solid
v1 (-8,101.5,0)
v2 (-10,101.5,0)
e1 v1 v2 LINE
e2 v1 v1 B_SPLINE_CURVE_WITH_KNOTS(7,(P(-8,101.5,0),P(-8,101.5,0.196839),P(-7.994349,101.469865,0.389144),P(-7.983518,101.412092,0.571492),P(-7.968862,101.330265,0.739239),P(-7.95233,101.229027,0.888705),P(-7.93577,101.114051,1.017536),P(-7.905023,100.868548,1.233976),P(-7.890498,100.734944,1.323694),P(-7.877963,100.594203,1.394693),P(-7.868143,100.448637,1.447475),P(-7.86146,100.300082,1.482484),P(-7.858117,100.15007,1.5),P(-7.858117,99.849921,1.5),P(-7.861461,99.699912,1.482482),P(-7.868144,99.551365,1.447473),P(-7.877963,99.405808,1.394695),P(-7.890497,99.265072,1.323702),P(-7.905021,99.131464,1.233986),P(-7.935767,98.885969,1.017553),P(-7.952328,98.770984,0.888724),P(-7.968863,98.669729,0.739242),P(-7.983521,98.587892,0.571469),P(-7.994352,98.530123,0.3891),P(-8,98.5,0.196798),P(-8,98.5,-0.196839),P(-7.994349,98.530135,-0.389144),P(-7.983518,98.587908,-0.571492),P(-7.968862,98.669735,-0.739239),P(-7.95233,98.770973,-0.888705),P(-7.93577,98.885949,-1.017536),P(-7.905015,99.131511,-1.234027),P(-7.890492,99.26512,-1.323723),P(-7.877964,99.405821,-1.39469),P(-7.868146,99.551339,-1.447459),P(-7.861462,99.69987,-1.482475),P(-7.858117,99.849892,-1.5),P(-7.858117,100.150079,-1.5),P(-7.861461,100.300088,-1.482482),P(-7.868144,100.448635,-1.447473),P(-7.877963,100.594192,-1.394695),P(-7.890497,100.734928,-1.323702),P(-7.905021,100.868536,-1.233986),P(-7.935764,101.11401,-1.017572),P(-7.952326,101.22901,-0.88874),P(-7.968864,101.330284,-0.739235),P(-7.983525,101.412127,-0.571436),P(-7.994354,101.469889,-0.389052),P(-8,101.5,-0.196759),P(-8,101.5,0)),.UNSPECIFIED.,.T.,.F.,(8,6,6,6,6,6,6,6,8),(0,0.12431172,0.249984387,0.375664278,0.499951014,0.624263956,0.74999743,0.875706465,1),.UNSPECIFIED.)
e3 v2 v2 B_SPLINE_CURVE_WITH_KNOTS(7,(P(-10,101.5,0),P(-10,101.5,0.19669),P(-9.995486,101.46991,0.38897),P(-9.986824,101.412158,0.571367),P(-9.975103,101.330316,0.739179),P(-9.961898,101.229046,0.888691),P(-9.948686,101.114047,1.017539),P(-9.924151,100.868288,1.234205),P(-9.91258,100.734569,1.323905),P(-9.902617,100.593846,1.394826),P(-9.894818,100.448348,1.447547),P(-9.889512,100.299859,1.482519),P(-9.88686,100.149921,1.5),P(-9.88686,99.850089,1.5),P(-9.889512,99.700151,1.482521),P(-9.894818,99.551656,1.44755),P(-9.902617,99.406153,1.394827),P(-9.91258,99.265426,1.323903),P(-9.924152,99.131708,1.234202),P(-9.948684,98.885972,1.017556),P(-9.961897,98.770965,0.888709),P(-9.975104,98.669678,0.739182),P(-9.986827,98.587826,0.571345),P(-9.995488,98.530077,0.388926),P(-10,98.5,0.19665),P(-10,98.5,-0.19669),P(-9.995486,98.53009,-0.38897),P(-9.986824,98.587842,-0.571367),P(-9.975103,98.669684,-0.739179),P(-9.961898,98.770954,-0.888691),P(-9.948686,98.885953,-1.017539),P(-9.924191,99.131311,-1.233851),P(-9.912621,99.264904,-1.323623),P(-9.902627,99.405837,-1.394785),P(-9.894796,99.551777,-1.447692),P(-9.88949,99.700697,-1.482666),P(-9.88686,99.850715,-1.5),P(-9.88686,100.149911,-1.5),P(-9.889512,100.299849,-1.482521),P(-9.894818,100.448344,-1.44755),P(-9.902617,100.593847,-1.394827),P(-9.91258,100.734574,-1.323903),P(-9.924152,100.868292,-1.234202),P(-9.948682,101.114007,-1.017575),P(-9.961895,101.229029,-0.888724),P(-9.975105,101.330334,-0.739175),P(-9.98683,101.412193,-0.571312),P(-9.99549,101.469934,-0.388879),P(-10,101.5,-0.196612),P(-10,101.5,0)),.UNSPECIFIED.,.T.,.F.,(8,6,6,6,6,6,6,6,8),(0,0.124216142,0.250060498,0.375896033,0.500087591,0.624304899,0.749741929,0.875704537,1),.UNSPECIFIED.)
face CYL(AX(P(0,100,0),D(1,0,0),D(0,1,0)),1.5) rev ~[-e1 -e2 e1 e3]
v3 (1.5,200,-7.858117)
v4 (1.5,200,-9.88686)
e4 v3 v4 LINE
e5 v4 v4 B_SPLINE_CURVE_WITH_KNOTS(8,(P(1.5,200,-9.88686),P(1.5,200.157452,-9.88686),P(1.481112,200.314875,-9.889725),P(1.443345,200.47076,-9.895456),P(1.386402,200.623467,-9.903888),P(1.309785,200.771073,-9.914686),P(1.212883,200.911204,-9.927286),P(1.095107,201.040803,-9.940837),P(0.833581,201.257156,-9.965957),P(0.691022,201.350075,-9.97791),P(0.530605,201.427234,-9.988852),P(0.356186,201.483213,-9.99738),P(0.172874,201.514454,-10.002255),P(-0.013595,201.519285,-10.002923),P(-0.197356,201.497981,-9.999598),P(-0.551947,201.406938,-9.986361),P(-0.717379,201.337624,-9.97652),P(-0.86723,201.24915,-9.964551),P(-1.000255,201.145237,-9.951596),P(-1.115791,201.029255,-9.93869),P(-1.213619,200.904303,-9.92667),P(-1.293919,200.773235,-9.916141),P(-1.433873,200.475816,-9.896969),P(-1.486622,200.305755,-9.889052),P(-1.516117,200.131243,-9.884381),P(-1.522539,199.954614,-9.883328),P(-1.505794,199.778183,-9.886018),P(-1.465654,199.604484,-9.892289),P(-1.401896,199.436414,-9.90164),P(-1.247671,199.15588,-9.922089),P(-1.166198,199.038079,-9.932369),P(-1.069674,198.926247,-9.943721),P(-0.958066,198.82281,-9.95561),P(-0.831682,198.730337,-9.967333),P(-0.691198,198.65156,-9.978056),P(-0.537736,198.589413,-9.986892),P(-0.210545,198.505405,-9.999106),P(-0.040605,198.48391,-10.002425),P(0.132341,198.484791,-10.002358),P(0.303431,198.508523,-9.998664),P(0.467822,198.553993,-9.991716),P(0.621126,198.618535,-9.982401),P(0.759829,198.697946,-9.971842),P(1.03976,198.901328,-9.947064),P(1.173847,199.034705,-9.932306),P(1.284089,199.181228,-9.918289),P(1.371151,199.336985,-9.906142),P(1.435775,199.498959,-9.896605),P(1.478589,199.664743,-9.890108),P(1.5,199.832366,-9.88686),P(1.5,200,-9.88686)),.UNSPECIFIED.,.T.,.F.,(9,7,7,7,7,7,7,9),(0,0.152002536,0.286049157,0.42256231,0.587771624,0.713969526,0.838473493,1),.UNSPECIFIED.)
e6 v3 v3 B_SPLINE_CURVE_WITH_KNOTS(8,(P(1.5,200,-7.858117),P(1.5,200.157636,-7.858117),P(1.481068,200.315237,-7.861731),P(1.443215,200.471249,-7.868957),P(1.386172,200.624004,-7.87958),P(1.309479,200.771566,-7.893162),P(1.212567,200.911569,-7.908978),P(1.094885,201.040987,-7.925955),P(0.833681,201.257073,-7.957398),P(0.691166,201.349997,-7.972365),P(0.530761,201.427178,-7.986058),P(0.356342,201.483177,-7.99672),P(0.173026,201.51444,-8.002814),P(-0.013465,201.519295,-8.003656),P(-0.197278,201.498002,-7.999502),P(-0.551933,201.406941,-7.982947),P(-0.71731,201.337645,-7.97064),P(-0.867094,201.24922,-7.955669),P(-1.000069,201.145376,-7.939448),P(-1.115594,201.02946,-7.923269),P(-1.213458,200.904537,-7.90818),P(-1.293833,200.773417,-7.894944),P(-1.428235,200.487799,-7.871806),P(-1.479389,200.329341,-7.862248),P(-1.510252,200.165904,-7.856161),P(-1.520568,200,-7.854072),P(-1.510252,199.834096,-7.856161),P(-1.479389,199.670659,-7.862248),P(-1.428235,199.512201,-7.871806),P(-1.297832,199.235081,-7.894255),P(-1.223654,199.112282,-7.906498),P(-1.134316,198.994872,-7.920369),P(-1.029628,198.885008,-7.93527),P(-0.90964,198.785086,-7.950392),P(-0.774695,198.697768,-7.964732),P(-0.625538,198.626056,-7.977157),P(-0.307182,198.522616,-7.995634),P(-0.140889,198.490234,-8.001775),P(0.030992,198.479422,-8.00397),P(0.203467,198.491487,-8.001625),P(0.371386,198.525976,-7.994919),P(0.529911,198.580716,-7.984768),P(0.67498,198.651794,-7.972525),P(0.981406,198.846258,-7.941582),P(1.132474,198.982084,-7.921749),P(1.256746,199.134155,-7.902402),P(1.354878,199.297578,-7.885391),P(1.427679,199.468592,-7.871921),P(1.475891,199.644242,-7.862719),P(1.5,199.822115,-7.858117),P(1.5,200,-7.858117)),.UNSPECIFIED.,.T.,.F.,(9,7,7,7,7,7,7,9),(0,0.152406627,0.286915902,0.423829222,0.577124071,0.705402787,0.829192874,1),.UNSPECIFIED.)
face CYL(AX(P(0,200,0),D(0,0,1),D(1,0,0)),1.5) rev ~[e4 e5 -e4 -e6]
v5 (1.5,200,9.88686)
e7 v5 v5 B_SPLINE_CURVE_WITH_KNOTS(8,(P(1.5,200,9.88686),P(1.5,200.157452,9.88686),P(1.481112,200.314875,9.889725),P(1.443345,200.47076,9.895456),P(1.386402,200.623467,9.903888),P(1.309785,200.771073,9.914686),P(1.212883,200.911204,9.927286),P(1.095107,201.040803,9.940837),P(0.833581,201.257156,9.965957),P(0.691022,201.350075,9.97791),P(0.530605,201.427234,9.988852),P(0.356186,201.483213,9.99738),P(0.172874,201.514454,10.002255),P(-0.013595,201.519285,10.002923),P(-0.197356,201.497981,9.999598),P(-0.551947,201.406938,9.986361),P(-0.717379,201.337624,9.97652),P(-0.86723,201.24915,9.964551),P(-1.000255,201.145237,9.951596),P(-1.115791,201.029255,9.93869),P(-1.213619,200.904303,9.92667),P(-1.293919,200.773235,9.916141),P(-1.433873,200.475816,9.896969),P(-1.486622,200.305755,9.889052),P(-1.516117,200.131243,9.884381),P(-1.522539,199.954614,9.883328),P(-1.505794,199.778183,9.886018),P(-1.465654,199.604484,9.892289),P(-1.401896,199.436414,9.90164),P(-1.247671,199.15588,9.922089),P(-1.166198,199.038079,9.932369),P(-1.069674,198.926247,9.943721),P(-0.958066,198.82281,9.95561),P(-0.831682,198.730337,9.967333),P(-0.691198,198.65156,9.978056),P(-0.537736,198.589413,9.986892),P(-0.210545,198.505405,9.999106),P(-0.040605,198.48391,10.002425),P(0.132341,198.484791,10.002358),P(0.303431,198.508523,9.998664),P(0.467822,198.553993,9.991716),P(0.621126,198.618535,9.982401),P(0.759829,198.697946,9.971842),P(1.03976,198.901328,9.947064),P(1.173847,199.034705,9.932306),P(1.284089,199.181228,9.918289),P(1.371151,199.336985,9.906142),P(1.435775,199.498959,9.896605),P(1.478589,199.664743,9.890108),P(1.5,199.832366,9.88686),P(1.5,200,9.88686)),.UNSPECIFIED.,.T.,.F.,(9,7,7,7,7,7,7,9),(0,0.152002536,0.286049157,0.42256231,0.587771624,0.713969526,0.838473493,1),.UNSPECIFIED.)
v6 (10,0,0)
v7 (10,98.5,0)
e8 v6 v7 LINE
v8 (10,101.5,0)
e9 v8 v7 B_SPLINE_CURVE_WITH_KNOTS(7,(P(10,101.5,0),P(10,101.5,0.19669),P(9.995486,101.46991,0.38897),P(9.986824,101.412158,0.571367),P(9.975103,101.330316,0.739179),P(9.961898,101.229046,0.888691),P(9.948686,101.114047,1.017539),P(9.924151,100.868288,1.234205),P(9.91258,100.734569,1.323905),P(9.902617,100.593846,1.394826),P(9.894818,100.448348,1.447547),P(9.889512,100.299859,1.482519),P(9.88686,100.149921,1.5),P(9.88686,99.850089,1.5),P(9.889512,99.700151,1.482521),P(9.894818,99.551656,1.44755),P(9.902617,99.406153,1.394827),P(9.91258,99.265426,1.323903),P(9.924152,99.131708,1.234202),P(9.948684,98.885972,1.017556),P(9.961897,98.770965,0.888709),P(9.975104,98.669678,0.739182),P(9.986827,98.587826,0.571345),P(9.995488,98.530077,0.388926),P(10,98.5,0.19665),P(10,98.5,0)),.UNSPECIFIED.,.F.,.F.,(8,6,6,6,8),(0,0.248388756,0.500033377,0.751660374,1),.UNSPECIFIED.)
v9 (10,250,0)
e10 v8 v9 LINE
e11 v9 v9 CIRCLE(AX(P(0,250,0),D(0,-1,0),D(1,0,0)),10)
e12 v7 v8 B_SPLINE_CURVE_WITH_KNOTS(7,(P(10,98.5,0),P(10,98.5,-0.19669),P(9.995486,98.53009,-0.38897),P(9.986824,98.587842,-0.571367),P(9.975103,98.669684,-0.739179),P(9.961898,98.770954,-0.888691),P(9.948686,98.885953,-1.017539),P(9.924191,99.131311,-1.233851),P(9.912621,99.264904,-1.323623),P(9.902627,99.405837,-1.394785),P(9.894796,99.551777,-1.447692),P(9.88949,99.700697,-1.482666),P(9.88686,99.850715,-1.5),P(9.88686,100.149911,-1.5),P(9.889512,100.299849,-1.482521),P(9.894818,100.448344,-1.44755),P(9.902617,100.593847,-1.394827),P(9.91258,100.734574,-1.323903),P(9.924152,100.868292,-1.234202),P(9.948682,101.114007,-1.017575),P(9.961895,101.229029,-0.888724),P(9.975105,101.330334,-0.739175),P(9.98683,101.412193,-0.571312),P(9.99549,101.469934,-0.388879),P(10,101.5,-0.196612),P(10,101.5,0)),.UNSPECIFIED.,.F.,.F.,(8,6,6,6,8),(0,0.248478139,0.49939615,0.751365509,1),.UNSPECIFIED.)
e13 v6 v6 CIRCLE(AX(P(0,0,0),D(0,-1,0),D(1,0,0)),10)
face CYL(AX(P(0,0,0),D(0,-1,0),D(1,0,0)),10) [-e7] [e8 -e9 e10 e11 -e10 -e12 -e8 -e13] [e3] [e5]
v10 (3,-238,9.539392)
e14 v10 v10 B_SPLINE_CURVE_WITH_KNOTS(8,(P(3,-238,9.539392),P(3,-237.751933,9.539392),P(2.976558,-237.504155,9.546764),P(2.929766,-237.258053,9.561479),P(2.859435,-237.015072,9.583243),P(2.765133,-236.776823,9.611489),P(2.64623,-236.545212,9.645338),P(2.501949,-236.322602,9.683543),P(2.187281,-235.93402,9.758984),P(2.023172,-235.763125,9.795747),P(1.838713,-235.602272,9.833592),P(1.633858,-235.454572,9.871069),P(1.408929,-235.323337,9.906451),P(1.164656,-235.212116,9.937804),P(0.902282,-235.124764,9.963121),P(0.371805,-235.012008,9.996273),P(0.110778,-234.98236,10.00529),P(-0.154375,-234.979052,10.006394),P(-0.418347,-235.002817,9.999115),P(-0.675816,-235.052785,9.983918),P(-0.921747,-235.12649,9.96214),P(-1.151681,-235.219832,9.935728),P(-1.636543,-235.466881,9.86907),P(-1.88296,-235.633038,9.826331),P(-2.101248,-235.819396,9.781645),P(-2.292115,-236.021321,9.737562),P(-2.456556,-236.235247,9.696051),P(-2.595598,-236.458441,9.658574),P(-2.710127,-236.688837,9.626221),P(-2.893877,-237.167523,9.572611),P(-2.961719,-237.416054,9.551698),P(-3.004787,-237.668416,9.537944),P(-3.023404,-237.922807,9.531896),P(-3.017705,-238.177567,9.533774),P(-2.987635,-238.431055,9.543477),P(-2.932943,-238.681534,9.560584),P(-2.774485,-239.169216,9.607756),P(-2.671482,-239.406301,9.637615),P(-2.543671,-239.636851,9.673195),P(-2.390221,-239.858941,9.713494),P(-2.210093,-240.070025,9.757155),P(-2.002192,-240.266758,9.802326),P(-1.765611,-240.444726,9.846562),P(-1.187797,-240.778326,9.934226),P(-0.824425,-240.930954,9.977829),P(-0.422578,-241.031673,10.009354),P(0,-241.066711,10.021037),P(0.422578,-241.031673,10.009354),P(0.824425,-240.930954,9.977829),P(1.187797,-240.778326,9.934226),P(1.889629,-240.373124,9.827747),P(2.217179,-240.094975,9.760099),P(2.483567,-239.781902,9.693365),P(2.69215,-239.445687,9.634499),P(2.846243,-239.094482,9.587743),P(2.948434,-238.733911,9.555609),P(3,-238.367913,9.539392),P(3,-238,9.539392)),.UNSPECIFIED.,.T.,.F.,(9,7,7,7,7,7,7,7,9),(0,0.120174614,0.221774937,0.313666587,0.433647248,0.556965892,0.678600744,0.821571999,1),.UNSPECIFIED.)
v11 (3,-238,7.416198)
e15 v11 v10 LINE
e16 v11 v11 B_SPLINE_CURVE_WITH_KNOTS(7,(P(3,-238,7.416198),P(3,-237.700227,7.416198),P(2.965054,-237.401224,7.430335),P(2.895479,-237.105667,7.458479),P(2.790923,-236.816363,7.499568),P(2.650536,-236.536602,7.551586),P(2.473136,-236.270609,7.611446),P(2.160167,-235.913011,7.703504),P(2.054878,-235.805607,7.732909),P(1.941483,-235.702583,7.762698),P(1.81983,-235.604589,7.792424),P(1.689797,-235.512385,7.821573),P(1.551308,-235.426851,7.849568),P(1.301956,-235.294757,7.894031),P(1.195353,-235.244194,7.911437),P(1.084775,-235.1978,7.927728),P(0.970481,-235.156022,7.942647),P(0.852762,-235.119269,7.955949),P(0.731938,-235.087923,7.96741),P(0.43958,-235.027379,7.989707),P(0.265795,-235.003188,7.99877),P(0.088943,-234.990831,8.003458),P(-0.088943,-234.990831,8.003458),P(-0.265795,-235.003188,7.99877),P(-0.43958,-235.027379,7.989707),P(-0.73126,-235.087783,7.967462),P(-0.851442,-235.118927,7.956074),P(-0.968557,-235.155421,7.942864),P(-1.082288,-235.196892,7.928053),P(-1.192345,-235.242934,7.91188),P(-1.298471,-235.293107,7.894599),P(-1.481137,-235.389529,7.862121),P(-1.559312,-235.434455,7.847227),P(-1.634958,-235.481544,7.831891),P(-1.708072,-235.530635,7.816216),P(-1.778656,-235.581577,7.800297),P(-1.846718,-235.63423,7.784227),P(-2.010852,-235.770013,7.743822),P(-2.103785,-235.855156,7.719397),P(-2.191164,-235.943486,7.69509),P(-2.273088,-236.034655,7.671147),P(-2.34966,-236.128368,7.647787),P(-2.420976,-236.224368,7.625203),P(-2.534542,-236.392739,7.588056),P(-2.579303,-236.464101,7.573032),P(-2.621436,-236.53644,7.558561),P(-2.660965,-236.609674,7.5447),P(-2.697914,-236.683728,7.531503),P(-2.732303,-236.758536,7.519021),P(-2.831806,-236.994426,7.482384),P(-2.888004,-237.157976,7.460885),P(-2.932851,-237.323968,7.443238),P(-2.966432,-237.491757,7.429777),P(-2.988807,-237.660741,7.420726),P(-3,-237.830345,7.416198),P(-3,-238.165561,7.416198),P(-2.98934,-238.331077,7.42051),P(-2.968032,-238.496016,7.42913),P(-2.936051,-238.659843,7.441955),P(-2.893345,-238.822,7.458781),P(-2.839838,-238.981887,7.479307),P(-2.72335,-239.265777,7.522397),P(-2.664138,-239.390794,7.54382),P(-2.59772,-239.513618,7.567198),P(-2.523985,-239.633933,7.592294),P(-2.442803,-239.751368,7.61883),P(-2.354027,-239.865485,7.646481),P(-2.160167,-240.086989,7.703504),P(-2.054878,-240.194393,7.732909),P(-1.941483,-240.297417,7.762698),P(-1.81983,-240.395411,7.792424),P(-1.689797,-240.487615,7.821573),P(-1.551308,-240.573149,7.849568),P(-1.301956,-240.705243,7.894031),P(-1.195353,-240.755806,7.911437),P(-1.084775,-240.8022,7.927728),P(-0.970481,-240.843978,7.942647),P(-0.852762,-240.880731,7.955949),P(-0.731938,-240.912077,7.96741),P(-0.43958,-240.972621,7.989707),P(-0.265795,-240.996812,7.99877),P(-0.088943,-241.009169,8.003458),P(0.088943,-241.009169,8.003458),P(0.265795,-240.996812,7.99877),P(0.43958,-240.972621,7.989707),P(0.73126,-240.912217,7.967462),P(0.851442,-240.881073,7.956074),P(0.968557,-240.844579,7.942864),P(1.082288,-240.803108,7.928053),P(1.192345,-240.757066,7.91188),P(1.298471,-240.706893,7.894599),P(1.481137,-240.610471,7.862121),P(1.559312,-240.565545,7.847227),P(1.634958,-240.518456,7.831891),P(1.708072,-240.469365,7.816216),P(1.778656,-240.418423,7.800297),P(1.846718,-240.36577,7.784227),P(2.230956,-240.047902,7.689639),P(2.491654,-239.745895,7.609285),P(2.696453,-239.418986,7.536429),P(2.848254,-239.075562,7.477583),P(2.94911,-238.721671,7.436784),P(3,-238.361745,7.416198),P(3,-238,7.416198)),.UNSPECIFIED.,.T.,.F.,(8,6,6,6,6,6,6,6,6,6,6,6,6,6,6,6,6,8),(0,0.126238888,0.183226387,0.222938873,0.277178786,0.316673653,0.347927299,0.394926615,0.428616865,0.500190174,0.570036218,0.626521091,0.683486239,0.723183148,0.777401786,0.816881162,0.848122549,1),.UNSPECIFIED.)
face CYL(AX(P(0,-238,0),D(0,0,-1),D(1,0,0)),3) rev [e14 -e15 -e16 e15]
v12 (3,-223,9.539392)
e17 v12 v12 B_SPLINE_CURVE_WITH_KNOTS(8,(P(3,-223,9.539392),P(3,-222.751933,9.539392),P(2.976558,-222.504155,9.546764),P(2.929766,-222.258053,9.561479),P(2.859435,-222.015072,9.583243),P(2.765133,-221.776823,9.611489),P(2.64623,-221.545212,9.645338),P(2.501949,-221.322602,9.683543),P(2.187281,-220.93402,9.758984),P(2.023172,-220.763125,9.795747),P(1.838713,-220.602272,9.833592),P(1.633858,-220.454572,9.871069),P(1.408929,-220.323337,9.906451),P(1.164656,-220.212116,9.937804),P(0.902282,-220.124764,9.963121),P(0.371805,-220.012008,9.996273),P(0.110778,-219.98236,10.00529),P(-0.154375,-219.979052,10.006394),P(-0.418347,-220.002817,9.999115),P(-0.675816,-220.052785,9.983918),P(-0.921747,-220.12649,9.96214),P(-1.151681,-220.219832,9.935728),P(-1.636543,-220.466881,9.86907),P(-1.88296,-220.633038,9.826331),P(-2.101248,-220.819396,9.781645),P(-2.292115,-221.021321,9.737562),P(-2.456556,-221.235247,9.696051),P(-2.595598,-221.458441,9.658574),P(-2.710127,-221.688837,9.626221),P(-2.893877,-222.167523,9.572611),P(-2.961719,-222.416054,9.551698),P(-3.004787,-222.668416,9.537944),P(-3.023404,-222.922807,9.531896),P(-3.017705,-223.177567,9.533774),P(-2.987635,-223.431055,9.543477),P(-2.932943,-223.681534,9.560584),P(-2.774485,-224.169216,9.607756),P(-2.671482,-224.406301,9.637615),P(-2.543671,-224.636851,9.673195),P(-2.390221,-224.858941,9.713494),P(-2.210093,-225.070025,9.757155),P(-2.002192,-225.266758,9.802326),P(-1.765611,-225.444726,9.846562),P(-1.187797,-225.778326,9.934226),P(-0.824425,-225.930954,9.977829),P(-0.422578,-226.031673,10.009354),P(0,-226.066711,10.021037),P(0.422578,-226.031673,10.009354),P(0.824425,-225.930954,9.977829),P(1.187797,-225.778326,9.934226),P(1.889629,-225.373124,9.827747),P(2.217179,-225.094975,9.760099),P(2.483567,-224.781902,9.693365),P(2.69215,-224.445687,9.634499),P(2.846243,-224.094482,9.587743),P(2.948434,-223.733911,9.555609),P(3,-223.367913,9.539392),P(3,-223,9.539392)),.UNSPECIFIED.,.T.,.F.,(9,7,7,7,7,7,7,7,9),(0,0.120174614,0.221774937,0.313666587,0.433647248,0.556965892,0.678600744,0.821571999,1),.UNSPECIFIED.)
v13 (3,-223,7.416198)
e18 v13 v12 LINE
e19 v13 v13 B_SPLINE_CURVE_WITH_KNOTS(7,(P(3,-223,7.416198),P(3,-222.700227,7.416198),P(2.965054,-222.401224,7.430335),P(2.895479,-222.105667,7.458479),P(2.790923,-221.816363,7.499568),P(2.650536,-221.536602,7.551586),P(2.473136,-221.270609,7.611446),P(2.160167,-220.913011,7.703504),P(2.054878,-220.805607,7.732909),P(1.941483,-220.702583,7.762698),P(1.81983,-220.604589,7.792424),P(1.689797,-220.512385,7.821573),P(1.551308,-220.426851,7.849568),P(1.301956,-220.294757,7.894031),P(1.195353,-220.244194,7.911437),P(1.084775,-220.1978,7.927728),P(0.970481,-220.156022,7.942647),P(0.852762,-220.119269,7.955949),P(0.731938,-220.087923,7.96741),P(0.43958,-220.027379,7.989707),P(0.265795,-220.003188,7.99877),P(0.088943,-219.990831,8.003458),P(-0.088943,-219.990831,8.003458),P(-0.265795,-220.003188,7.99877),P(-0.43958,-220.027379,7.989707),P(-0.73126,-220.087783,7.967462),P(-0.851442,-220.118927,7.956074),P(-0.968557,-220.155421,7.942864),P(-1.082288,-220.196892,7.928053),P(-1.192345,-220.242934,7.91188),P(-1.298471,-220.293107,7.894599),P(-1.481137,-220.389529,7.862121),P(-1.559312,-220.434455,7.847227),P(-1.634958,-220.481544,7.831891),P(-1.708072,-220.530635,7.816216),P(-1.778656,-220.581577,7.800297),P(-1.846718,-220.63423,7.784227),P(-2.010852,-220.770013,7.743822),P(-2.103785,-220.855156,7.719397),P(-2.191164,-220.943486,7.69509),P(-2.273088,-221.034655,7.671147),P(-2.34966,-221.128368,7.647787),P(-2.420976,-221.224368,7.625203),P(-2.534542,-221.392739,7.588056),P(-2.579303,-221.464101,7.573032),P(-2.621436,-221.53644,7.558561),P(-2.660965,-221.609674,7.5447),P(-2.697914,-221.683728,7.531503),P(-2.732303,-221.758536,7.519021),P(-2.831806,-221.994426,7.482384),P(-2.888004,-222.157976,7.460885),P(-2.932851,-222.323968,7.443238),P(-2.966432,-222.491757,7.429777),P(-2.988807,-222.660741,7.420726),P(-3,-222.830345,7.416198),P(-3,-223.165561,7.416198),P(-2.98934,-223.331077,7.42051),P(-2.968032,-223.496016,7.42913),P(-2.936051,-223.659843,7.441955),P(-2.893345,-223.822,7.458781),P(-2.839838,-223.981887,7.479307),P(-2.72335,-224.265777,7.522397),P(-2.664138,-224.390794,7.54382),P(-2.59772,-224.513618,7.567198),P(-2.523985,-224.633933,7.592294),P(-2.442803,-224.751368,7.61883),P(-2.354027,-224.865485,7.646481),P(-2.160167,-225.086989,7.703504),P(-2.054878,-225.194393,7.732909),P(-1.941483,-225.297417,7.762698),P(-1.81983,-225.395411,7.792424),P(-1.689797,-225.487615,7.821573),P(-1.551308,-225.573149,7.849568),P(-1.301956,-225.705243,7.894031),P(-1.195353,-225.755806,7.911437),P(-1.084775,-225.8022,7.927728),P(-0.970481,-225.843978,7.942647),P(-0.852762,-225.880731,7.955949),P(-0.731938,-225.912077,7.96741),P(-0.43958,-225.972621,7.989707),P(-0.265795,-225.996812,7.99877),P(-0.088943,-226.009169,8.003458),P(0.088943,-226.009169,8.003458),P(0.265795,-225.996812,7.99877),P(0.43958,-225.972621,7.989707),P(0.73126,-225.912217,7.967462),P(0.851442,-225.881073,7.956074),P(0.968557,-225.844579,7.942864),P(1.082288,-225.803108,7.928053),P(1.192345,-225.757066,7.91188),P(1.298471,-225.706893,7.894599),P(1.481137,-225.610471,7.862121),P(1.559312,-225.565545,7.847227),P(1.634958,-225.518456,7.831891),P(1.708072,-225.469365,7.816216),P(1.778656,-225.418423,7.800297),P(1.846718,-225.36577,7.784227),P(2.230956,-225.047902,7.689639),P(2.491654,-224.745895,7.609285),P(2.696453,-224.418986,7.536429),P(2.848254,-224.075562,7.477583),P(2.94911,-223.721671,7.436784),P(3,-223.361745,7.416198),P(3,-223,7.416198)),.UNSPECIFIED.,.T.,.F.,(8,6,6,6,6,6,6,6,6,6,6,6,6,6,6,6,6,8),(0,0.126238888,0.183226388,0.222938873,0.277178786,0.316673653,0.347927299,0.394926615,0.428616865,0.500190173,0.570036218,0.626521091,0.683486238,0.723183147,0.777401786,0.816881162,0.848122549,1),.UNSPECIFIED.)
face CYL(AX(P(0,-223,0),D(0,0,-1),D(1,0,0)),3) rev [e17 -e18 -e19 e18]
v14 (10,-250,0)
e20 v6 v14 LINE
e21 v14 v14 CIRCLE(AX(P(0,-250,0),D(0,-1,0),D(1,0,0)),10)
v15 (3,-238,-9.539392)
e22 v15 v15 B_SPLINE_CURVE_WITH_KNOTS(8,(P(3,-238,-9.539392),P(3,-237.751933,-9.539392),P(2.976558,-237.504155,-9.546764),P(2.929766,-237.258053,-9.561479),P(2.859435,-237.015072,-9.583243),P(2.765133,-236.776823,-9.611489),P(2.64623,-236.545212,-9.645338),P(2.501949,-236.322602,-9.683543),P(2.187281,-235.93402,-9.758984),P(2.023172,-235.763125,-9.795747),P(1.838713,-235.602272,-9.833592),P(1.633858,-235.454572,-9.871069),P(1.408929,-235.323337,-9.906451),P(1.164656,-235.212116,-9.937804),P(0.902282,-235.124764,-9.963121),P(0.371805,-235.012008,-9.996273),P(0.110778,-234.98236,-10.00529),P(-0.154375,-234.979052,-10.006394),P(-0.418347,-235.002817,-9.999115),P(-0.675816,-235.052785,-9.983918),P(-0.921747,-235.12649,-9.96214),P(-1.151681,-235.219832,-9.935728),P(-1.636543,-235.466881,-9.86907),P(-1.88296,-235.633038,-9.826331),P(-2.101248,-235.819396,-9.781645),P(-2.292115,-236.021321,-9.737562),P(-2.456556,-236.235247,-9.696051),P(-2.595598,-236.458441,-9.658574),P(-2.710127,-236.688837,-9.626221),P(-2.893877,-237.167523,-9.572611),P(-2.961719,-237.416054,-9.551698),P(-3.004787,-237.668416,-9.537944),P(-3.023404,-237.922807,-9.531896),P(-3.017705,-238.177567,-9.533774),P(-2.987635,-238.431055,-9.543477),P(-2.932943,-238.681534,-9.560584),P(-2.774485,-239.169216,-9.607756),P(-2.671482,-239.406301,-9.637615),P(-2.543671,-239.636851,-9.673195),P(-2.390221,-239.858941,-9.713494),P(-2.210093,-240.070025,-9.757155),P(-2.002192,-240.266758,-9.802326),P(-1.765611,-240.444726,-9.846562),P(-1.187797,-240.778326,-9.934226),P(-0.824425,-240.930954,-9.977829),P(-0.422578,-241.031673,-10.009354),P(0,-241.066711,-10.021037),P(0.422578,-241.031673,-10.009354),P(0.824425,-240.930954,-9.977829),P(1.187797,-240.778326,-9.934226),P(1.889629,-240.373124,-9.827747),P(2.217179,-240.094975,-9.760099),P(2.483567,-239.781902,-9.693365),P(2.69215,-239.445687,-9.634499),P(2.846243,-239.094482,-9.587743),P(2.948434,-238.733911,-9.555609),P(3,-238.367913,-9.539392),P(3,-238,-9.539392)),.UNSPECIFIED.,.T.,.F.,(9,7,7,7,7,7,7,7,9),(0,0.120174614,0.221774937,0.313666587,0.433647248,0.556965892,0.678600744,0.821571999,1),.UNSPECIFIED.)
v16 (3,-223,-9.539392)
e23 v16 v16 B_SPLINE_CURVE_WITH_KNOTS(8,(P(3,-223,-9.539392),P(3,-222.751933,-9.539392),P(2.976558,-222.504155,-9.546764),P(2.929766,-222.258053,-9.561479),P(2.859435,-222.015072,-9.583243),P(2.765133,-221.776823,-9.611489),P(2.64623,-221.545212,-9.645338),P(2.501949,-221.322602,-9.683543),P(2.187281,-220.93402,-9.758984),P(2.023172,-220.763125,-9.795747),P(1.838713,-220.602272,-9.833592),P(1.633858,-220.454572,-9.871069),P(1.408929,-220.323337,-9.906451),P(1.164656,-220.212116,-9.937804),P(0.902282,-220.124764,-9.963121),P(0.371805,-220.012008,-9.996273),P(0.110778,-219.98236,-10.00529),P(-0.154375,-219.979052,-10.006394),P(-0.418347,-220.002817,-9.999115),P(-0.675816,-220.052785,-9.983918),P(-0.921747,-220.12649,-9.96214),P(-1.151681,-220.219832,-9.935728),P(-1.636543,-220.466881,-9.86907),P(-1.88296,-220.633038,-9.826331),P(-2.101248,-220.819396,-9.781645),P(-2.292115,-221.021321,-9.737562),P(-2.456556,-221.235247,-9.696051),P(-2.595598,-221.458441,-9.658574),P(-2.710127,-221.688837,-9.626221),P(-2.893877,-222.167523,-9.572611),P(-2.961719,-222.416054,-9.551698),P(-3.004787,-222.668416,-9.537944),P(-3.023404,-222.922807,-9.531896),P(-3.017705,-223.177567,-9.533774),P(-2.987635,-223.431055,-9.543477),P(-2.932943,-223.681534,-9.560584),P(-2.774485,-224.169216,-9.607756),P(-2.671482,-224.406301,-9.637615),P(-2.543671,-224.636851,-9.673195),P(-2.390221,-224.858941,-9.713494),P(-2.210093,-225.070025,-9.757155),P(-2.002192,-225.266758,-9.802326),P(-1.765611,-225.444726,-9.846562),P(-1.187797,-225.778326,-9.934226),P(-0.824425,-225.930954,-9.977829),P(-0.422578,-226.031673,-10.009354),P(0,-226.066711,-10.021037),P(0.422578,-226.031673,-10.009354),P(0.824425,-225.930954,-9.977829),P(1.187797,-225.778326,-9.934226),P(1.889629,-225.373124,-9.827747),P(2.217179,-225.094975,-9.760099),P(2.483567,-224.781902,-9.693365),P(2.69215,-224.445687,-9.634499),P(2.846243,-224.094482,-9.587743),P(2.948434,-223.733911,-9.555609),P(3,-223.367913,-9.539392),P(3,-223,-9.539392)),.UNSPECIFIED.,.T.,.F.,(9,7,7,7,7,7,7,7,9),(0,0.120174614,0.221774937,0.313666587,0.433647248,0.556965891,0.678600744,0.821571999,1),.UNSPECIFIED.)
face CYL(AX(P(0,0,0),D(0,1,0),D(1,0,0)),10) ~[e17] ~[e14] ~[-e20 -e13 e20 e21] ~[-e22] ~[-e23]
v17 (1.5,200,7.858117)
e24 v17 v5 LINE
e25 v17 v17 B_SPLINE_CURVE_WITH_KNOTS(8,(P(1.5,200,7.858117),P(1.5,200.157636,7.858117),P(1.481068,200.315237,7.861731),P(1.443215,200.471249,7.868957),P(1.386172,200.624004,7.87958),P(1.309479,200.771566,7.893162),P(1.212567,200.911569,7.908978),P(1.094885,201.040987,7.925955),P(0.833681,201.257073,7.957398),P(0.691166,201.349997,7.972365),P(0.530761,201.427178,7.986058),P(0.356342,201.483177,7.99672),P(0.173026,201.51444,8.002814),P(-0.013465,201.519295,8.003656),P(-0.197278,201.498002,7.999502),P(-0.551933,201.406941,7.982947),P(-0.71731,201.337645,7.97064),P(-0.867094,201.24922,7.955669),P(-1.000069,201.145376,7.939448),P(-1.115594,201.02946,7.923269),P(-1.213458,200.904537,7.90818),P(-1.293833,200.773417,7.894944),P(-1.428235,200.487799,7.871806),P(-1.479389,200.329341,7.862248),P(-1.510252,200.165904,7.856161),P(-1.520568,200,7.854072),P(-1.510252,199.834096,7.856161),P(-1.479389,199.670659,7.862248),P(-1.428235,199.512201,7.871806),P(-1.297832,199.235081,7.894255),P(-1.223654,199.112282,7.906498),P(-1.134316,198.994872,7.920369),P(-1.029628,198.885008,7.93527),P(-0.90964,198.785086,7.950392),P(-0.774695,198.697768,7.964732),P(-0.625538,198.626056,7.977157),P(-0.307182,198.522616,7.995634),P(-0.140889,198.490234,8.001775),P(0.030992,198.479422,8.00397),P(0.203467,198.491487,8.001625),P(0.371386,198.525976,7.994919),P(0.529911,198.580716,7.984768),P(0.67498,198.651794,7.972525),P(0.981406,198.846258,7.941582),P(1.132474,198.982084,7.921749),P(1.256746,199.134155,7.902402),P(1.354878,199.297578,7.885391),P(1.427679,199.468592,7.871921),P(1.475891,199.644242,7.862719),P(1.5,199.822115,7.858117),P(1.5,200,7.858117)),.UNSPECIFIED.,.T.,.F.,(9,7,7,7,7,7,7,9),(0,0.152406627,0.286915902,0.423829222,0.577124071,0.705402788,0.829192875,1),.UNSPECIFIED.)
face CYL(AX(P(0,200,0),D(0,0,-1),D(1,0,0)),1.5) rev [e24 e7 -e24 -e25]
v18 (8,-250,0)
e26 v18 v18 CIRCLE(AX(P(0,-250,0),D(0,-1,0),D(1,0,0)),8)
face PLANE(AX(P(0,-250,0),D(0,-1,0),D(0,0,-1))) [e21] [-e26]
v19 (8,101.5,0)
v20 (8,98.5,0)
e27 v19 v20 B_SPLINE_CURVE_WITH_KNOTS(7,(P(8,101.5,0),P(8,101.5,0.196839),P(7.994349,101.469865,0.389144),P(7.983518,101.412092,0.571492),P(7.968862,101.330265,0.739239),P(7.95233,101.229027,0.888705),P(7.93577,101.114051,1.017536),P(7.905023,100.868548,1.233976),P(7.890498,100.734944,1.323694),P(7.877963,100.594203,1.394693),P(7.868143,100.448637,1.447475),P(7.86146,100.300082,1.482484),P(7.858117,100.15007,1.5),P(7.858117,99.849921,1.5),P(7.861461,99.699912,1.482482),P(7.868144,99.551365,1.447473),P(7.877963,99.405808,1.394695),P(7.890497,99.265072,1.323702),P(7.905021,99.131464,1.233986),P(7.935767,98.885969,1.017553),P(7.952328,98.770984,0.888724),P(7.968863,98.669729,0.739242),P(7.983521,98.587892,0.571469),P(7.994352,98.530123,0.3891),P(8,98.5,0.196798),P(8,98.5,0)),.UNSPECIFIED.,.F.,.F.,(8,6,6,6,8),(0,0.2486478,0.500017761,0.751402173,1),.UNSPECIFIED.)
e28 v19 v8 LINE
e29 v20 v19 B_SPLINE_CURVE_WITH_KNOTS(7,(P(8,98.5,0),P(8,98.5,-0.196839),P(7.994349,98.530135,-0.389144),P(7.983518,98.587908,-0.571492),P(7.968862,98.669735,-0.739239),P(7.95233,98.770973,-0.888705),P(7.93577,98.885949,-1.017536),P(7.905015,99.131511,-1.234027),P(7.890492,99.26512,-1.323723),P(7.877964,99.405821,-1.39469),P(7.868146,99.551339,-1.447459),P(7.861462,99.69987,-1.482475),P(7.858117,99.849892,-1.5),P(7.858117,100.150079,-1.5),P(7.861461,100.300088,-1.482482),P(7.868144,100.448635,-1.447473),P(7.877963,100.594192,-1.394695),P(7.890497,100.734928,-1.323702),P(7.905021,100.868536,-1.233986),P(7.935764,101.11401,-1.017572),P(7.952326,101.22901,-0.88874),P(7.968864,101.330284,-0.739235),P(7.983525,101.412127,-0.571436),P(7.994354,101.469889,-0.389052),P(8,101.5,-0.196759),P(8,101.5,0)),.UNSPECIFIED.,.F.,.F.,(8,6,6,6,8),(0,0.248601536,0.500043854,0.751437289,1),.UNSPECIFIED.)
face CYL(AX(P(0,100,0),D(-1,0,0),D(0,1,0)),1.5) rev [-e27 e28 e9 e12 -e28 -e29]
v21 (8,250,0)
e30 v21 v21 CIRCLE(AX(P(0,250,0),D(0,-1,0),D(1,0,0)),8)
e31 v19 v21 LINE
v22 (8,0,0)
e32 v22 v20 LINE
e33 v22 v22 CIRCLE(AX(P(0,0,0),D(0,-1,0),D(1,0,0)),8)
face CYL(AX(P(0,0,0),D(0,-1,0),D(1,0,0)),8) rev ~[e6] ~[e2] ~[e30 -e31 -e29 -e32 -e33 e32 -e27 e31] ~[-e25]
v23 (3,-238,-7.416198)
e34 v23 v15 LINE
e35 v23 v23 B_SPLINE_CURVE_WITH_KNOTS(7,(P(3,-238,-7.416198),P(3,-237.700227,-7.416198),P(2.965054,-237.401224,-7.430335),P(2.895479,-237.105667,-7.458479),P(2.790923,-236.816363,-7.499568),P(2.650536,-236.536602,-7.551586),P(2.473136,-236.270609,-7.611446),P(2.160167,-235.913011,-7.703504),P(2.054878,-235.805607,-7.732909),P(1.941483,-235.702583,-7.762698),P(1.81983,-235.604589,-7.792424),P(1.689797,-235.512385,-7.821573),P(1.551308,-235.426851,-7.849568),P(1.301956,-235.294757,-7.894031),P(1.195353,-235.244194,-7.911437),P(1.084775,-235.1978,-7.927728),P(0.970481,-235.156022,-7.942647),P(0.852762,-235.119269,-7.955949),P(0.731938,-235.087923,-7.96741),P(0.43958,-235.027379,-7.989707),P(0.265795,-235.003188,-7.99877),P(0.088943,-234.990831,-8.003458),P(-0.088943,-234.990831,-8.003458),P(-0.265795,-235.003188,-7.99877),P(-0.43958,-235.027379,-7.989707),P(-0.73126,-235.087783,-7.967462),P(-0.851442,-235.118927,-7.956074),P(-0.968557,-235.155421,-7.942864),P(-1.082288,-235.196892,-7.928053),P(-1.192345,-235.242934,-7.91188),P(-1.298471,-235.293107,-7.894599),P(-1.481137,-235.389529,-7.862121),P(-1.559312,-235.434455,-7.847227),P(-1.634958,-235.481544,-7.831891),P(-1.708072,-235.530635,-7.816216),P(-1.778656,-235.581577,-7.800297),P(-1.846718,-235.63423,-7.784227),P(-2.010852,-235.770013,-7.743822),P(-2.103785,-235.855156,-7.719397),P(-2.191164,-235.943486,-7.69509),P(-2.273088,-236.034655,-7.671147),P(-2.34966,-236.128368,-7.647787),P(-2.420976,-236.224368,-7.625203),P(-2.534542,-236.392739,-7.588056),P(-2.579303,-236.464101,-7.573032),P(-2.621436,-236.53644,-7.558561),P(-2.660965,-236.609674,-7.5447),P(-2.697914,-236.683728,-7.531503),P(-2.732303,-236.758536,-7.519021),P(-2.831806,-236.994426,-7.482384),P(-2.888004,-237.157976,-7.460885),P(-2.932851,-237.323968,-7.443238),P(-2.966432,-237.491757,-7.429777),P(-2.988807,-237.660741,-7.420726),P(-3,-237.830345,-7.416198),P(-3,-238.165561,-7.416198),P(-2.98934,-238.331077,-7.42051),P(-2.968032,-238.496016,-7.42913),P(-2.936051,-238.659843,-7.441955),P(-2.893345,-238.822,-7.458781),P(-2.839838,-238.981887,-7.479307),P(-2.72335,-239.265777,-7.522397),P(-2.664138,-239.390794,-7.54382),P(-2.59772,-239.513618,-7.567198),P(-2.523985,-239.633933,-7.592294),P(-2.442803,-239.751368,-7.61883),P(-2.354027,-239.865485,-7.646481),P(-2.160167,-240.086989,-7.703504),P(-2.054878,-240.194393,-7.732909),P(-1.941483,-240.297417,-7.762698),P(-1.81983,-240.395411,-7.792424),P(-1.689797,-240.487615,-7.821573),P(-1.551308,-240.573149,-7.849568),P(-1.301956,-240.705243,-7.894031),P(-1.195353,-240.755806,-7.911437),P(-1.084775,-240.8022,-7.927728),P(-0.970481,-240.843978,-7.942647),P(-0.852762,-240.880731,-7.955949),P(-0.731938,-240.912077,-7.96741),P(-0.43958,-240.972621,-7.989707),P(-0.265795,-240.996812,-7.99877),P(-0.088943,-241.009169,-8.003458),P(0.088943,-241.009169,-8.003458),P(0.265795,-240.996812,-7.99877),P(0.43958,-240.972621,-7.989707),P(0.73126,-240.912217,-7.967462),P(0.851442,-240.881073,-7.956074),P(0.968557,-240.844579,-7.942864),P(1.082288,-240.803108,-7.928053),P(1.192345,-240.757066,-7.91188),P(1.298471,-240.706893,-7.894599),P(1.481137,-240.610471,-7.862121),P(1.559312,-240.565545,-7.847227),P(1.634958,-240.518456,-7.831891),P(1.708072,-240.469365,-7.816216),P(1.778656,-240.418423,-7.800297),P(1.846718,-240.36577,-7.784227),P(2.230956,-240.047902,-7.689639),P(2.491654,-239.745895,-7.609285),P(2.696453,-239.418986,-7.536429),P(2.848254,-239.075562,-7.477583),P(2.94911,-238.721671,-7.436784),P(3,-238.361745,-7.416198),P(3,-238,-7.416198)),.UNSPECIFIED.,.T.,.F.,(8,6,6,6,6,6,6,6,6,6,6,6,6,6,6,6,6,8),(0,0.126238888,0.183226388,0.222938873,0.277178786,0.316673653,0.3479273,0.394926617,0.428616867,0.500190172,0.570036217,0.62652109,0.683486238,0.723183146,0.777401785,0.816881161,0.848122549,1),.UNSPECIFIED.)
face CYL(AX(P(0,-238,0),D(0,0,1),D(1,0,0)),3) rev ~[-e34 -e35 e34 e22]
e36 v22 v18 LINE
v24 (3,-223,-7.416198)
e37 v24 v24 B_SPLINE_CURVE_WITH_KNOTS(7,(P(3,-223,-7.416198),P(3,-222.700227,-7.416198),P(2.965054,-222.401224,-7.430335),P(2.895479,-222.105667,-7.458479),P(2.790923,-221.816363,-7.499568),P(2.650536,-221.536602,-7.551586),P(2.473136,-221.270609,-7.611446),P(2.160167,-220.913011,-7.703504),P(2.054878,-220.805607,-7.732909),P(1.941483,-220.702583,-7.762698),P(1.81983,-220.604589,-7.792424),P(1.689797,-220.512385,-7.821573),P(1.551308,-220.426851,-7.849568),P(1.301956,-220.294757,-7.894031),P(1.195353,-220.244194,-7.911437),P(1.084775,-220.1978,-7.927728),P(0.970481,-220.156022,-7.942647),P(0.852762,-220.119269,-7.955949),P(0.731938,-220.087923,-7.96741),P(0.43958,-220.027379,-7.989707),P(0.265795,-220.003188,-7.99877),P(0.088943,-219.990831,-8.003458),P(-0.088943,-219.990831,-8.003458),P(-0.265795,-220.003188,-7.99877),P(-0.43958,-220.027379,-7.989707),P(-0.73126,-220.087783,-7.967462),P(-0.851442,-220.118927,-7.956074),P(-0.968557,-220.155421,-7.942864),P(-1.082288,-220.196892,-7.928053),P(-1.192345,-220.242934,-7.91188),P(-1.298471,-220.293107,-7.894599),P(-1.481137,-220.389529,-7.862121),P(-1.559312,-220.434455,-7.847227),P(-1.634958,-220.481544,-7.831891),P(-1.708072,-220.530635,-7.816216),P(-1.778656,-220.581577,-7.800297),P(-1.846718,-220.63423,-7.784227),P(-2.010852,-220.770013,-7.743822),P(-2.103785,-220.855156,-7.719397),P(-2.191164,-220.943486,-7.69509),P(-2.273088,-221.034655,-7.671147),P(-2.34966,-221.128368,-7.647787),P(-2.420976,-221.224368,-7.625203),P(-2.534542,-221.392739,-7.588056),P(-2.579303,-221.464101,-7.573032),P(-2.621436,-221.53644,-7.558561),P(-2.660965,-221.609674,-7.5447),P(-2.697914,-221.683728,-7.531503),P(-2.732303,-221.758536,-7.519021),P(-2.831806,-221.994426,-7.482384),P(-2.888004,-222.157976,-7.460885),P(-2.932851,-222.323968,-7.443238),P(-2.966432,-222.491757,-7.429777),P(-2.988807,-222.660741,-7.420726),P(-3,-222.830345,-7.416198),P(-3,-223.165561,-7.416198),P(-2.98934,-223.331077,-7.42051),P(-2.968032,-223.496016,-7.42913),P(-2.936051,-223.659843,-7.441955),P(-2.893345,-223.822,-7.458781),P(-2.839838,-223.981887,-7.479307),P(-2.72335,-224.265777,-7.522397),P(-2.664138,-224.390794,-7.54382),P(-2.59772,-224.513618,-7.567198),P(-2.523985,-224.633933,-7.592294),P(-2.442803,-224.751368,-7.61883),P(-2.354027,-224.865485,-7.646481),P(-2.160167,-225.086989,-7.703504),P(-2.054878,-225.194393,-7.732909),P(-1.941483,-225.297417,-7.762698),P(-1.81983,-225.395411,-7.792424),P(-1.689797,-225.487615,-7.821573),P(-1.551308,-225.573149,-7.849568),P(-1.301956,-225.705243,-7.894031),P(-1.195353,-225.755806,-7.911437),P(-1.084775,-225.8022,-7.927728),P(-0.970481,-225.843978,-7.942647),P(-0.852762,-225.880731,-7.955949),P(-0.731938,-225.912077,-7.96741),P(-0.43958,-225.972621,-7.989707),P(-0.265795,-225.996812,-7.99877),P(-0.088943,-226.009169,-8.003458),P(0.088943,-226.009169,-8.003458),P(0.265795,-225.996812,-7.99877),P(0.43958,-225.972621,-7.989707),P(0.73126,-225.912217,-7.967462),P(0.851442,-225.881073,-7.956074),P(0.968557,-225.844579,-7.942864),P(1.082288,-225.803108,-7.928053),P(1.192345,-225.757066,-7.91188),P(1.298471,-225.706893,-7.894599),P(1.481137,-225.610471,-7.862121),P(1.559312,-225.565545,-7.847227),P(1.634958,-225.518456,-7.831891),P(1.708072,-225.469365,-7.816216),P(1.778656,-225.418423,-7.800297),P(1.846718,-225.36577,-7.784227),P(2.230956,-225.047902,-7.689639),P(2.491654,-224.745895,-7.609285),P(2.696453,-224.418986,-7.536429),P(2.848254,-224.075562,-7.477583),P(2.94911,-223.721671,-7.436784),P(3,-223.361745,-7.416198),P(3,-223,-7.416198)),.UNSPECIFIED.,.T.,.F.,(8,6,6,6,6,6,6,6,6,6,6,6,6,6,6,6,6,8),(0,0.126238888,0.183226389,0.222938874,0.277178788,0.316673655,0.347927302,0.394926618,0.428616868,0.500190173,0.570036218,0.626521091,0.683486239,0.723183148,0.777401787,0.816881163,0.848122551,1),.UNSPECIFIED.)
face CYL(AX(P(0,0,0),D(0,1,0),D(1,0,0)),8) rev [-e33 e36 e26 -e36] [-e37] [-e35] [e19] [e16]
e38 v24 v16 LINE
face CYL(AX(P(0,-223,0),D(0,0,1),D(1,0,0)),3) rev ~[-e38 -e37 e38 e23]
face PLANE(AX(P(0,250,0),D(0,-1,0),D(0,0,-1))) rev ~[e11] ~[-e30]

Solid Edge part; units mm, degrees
sketch "Sketch1" plane through (0, 0, 0) normal (0, -1, 0) x (1, 0, 0)
  circle A0 centre (0, 0) radius 10
  circle A1 centre (0, 0) radius 8
extrude "Protrusion1" add sketch "Sketch1" along normal mid plane 500
sketch "Sketch2" plane through (0, 0, 0) normal (0, 0, 1) x (1, 0, 0)
  circle A0 centre (0, -238) radius 3
  circle A1 centre (0, -223) radius 3
extrude "ExtrudedCutout_1" cut sketch "Sketch2" along normal mid plane 103.8089
sketch "Sketch3" plane through (0, 0, 0) normal (1, 0, 0) x (0, 1, 0)
  circle A0 centre (100, 0) radius 1.5
extrude "ExtrudedCutout_3" cut sketch "Sketch3" along normal mid plane 217.8722
sketch "Sketch4" plane through (0, 0, 0) normal (0, 0, 1) x (1, 0, 0)
  circle A0 centre (0, 200) radius 1.5
extrude "ExtrudedCutout_4" cut sketch "Sketch4" along normal mid plane 490.2317
properties material "PVC"
